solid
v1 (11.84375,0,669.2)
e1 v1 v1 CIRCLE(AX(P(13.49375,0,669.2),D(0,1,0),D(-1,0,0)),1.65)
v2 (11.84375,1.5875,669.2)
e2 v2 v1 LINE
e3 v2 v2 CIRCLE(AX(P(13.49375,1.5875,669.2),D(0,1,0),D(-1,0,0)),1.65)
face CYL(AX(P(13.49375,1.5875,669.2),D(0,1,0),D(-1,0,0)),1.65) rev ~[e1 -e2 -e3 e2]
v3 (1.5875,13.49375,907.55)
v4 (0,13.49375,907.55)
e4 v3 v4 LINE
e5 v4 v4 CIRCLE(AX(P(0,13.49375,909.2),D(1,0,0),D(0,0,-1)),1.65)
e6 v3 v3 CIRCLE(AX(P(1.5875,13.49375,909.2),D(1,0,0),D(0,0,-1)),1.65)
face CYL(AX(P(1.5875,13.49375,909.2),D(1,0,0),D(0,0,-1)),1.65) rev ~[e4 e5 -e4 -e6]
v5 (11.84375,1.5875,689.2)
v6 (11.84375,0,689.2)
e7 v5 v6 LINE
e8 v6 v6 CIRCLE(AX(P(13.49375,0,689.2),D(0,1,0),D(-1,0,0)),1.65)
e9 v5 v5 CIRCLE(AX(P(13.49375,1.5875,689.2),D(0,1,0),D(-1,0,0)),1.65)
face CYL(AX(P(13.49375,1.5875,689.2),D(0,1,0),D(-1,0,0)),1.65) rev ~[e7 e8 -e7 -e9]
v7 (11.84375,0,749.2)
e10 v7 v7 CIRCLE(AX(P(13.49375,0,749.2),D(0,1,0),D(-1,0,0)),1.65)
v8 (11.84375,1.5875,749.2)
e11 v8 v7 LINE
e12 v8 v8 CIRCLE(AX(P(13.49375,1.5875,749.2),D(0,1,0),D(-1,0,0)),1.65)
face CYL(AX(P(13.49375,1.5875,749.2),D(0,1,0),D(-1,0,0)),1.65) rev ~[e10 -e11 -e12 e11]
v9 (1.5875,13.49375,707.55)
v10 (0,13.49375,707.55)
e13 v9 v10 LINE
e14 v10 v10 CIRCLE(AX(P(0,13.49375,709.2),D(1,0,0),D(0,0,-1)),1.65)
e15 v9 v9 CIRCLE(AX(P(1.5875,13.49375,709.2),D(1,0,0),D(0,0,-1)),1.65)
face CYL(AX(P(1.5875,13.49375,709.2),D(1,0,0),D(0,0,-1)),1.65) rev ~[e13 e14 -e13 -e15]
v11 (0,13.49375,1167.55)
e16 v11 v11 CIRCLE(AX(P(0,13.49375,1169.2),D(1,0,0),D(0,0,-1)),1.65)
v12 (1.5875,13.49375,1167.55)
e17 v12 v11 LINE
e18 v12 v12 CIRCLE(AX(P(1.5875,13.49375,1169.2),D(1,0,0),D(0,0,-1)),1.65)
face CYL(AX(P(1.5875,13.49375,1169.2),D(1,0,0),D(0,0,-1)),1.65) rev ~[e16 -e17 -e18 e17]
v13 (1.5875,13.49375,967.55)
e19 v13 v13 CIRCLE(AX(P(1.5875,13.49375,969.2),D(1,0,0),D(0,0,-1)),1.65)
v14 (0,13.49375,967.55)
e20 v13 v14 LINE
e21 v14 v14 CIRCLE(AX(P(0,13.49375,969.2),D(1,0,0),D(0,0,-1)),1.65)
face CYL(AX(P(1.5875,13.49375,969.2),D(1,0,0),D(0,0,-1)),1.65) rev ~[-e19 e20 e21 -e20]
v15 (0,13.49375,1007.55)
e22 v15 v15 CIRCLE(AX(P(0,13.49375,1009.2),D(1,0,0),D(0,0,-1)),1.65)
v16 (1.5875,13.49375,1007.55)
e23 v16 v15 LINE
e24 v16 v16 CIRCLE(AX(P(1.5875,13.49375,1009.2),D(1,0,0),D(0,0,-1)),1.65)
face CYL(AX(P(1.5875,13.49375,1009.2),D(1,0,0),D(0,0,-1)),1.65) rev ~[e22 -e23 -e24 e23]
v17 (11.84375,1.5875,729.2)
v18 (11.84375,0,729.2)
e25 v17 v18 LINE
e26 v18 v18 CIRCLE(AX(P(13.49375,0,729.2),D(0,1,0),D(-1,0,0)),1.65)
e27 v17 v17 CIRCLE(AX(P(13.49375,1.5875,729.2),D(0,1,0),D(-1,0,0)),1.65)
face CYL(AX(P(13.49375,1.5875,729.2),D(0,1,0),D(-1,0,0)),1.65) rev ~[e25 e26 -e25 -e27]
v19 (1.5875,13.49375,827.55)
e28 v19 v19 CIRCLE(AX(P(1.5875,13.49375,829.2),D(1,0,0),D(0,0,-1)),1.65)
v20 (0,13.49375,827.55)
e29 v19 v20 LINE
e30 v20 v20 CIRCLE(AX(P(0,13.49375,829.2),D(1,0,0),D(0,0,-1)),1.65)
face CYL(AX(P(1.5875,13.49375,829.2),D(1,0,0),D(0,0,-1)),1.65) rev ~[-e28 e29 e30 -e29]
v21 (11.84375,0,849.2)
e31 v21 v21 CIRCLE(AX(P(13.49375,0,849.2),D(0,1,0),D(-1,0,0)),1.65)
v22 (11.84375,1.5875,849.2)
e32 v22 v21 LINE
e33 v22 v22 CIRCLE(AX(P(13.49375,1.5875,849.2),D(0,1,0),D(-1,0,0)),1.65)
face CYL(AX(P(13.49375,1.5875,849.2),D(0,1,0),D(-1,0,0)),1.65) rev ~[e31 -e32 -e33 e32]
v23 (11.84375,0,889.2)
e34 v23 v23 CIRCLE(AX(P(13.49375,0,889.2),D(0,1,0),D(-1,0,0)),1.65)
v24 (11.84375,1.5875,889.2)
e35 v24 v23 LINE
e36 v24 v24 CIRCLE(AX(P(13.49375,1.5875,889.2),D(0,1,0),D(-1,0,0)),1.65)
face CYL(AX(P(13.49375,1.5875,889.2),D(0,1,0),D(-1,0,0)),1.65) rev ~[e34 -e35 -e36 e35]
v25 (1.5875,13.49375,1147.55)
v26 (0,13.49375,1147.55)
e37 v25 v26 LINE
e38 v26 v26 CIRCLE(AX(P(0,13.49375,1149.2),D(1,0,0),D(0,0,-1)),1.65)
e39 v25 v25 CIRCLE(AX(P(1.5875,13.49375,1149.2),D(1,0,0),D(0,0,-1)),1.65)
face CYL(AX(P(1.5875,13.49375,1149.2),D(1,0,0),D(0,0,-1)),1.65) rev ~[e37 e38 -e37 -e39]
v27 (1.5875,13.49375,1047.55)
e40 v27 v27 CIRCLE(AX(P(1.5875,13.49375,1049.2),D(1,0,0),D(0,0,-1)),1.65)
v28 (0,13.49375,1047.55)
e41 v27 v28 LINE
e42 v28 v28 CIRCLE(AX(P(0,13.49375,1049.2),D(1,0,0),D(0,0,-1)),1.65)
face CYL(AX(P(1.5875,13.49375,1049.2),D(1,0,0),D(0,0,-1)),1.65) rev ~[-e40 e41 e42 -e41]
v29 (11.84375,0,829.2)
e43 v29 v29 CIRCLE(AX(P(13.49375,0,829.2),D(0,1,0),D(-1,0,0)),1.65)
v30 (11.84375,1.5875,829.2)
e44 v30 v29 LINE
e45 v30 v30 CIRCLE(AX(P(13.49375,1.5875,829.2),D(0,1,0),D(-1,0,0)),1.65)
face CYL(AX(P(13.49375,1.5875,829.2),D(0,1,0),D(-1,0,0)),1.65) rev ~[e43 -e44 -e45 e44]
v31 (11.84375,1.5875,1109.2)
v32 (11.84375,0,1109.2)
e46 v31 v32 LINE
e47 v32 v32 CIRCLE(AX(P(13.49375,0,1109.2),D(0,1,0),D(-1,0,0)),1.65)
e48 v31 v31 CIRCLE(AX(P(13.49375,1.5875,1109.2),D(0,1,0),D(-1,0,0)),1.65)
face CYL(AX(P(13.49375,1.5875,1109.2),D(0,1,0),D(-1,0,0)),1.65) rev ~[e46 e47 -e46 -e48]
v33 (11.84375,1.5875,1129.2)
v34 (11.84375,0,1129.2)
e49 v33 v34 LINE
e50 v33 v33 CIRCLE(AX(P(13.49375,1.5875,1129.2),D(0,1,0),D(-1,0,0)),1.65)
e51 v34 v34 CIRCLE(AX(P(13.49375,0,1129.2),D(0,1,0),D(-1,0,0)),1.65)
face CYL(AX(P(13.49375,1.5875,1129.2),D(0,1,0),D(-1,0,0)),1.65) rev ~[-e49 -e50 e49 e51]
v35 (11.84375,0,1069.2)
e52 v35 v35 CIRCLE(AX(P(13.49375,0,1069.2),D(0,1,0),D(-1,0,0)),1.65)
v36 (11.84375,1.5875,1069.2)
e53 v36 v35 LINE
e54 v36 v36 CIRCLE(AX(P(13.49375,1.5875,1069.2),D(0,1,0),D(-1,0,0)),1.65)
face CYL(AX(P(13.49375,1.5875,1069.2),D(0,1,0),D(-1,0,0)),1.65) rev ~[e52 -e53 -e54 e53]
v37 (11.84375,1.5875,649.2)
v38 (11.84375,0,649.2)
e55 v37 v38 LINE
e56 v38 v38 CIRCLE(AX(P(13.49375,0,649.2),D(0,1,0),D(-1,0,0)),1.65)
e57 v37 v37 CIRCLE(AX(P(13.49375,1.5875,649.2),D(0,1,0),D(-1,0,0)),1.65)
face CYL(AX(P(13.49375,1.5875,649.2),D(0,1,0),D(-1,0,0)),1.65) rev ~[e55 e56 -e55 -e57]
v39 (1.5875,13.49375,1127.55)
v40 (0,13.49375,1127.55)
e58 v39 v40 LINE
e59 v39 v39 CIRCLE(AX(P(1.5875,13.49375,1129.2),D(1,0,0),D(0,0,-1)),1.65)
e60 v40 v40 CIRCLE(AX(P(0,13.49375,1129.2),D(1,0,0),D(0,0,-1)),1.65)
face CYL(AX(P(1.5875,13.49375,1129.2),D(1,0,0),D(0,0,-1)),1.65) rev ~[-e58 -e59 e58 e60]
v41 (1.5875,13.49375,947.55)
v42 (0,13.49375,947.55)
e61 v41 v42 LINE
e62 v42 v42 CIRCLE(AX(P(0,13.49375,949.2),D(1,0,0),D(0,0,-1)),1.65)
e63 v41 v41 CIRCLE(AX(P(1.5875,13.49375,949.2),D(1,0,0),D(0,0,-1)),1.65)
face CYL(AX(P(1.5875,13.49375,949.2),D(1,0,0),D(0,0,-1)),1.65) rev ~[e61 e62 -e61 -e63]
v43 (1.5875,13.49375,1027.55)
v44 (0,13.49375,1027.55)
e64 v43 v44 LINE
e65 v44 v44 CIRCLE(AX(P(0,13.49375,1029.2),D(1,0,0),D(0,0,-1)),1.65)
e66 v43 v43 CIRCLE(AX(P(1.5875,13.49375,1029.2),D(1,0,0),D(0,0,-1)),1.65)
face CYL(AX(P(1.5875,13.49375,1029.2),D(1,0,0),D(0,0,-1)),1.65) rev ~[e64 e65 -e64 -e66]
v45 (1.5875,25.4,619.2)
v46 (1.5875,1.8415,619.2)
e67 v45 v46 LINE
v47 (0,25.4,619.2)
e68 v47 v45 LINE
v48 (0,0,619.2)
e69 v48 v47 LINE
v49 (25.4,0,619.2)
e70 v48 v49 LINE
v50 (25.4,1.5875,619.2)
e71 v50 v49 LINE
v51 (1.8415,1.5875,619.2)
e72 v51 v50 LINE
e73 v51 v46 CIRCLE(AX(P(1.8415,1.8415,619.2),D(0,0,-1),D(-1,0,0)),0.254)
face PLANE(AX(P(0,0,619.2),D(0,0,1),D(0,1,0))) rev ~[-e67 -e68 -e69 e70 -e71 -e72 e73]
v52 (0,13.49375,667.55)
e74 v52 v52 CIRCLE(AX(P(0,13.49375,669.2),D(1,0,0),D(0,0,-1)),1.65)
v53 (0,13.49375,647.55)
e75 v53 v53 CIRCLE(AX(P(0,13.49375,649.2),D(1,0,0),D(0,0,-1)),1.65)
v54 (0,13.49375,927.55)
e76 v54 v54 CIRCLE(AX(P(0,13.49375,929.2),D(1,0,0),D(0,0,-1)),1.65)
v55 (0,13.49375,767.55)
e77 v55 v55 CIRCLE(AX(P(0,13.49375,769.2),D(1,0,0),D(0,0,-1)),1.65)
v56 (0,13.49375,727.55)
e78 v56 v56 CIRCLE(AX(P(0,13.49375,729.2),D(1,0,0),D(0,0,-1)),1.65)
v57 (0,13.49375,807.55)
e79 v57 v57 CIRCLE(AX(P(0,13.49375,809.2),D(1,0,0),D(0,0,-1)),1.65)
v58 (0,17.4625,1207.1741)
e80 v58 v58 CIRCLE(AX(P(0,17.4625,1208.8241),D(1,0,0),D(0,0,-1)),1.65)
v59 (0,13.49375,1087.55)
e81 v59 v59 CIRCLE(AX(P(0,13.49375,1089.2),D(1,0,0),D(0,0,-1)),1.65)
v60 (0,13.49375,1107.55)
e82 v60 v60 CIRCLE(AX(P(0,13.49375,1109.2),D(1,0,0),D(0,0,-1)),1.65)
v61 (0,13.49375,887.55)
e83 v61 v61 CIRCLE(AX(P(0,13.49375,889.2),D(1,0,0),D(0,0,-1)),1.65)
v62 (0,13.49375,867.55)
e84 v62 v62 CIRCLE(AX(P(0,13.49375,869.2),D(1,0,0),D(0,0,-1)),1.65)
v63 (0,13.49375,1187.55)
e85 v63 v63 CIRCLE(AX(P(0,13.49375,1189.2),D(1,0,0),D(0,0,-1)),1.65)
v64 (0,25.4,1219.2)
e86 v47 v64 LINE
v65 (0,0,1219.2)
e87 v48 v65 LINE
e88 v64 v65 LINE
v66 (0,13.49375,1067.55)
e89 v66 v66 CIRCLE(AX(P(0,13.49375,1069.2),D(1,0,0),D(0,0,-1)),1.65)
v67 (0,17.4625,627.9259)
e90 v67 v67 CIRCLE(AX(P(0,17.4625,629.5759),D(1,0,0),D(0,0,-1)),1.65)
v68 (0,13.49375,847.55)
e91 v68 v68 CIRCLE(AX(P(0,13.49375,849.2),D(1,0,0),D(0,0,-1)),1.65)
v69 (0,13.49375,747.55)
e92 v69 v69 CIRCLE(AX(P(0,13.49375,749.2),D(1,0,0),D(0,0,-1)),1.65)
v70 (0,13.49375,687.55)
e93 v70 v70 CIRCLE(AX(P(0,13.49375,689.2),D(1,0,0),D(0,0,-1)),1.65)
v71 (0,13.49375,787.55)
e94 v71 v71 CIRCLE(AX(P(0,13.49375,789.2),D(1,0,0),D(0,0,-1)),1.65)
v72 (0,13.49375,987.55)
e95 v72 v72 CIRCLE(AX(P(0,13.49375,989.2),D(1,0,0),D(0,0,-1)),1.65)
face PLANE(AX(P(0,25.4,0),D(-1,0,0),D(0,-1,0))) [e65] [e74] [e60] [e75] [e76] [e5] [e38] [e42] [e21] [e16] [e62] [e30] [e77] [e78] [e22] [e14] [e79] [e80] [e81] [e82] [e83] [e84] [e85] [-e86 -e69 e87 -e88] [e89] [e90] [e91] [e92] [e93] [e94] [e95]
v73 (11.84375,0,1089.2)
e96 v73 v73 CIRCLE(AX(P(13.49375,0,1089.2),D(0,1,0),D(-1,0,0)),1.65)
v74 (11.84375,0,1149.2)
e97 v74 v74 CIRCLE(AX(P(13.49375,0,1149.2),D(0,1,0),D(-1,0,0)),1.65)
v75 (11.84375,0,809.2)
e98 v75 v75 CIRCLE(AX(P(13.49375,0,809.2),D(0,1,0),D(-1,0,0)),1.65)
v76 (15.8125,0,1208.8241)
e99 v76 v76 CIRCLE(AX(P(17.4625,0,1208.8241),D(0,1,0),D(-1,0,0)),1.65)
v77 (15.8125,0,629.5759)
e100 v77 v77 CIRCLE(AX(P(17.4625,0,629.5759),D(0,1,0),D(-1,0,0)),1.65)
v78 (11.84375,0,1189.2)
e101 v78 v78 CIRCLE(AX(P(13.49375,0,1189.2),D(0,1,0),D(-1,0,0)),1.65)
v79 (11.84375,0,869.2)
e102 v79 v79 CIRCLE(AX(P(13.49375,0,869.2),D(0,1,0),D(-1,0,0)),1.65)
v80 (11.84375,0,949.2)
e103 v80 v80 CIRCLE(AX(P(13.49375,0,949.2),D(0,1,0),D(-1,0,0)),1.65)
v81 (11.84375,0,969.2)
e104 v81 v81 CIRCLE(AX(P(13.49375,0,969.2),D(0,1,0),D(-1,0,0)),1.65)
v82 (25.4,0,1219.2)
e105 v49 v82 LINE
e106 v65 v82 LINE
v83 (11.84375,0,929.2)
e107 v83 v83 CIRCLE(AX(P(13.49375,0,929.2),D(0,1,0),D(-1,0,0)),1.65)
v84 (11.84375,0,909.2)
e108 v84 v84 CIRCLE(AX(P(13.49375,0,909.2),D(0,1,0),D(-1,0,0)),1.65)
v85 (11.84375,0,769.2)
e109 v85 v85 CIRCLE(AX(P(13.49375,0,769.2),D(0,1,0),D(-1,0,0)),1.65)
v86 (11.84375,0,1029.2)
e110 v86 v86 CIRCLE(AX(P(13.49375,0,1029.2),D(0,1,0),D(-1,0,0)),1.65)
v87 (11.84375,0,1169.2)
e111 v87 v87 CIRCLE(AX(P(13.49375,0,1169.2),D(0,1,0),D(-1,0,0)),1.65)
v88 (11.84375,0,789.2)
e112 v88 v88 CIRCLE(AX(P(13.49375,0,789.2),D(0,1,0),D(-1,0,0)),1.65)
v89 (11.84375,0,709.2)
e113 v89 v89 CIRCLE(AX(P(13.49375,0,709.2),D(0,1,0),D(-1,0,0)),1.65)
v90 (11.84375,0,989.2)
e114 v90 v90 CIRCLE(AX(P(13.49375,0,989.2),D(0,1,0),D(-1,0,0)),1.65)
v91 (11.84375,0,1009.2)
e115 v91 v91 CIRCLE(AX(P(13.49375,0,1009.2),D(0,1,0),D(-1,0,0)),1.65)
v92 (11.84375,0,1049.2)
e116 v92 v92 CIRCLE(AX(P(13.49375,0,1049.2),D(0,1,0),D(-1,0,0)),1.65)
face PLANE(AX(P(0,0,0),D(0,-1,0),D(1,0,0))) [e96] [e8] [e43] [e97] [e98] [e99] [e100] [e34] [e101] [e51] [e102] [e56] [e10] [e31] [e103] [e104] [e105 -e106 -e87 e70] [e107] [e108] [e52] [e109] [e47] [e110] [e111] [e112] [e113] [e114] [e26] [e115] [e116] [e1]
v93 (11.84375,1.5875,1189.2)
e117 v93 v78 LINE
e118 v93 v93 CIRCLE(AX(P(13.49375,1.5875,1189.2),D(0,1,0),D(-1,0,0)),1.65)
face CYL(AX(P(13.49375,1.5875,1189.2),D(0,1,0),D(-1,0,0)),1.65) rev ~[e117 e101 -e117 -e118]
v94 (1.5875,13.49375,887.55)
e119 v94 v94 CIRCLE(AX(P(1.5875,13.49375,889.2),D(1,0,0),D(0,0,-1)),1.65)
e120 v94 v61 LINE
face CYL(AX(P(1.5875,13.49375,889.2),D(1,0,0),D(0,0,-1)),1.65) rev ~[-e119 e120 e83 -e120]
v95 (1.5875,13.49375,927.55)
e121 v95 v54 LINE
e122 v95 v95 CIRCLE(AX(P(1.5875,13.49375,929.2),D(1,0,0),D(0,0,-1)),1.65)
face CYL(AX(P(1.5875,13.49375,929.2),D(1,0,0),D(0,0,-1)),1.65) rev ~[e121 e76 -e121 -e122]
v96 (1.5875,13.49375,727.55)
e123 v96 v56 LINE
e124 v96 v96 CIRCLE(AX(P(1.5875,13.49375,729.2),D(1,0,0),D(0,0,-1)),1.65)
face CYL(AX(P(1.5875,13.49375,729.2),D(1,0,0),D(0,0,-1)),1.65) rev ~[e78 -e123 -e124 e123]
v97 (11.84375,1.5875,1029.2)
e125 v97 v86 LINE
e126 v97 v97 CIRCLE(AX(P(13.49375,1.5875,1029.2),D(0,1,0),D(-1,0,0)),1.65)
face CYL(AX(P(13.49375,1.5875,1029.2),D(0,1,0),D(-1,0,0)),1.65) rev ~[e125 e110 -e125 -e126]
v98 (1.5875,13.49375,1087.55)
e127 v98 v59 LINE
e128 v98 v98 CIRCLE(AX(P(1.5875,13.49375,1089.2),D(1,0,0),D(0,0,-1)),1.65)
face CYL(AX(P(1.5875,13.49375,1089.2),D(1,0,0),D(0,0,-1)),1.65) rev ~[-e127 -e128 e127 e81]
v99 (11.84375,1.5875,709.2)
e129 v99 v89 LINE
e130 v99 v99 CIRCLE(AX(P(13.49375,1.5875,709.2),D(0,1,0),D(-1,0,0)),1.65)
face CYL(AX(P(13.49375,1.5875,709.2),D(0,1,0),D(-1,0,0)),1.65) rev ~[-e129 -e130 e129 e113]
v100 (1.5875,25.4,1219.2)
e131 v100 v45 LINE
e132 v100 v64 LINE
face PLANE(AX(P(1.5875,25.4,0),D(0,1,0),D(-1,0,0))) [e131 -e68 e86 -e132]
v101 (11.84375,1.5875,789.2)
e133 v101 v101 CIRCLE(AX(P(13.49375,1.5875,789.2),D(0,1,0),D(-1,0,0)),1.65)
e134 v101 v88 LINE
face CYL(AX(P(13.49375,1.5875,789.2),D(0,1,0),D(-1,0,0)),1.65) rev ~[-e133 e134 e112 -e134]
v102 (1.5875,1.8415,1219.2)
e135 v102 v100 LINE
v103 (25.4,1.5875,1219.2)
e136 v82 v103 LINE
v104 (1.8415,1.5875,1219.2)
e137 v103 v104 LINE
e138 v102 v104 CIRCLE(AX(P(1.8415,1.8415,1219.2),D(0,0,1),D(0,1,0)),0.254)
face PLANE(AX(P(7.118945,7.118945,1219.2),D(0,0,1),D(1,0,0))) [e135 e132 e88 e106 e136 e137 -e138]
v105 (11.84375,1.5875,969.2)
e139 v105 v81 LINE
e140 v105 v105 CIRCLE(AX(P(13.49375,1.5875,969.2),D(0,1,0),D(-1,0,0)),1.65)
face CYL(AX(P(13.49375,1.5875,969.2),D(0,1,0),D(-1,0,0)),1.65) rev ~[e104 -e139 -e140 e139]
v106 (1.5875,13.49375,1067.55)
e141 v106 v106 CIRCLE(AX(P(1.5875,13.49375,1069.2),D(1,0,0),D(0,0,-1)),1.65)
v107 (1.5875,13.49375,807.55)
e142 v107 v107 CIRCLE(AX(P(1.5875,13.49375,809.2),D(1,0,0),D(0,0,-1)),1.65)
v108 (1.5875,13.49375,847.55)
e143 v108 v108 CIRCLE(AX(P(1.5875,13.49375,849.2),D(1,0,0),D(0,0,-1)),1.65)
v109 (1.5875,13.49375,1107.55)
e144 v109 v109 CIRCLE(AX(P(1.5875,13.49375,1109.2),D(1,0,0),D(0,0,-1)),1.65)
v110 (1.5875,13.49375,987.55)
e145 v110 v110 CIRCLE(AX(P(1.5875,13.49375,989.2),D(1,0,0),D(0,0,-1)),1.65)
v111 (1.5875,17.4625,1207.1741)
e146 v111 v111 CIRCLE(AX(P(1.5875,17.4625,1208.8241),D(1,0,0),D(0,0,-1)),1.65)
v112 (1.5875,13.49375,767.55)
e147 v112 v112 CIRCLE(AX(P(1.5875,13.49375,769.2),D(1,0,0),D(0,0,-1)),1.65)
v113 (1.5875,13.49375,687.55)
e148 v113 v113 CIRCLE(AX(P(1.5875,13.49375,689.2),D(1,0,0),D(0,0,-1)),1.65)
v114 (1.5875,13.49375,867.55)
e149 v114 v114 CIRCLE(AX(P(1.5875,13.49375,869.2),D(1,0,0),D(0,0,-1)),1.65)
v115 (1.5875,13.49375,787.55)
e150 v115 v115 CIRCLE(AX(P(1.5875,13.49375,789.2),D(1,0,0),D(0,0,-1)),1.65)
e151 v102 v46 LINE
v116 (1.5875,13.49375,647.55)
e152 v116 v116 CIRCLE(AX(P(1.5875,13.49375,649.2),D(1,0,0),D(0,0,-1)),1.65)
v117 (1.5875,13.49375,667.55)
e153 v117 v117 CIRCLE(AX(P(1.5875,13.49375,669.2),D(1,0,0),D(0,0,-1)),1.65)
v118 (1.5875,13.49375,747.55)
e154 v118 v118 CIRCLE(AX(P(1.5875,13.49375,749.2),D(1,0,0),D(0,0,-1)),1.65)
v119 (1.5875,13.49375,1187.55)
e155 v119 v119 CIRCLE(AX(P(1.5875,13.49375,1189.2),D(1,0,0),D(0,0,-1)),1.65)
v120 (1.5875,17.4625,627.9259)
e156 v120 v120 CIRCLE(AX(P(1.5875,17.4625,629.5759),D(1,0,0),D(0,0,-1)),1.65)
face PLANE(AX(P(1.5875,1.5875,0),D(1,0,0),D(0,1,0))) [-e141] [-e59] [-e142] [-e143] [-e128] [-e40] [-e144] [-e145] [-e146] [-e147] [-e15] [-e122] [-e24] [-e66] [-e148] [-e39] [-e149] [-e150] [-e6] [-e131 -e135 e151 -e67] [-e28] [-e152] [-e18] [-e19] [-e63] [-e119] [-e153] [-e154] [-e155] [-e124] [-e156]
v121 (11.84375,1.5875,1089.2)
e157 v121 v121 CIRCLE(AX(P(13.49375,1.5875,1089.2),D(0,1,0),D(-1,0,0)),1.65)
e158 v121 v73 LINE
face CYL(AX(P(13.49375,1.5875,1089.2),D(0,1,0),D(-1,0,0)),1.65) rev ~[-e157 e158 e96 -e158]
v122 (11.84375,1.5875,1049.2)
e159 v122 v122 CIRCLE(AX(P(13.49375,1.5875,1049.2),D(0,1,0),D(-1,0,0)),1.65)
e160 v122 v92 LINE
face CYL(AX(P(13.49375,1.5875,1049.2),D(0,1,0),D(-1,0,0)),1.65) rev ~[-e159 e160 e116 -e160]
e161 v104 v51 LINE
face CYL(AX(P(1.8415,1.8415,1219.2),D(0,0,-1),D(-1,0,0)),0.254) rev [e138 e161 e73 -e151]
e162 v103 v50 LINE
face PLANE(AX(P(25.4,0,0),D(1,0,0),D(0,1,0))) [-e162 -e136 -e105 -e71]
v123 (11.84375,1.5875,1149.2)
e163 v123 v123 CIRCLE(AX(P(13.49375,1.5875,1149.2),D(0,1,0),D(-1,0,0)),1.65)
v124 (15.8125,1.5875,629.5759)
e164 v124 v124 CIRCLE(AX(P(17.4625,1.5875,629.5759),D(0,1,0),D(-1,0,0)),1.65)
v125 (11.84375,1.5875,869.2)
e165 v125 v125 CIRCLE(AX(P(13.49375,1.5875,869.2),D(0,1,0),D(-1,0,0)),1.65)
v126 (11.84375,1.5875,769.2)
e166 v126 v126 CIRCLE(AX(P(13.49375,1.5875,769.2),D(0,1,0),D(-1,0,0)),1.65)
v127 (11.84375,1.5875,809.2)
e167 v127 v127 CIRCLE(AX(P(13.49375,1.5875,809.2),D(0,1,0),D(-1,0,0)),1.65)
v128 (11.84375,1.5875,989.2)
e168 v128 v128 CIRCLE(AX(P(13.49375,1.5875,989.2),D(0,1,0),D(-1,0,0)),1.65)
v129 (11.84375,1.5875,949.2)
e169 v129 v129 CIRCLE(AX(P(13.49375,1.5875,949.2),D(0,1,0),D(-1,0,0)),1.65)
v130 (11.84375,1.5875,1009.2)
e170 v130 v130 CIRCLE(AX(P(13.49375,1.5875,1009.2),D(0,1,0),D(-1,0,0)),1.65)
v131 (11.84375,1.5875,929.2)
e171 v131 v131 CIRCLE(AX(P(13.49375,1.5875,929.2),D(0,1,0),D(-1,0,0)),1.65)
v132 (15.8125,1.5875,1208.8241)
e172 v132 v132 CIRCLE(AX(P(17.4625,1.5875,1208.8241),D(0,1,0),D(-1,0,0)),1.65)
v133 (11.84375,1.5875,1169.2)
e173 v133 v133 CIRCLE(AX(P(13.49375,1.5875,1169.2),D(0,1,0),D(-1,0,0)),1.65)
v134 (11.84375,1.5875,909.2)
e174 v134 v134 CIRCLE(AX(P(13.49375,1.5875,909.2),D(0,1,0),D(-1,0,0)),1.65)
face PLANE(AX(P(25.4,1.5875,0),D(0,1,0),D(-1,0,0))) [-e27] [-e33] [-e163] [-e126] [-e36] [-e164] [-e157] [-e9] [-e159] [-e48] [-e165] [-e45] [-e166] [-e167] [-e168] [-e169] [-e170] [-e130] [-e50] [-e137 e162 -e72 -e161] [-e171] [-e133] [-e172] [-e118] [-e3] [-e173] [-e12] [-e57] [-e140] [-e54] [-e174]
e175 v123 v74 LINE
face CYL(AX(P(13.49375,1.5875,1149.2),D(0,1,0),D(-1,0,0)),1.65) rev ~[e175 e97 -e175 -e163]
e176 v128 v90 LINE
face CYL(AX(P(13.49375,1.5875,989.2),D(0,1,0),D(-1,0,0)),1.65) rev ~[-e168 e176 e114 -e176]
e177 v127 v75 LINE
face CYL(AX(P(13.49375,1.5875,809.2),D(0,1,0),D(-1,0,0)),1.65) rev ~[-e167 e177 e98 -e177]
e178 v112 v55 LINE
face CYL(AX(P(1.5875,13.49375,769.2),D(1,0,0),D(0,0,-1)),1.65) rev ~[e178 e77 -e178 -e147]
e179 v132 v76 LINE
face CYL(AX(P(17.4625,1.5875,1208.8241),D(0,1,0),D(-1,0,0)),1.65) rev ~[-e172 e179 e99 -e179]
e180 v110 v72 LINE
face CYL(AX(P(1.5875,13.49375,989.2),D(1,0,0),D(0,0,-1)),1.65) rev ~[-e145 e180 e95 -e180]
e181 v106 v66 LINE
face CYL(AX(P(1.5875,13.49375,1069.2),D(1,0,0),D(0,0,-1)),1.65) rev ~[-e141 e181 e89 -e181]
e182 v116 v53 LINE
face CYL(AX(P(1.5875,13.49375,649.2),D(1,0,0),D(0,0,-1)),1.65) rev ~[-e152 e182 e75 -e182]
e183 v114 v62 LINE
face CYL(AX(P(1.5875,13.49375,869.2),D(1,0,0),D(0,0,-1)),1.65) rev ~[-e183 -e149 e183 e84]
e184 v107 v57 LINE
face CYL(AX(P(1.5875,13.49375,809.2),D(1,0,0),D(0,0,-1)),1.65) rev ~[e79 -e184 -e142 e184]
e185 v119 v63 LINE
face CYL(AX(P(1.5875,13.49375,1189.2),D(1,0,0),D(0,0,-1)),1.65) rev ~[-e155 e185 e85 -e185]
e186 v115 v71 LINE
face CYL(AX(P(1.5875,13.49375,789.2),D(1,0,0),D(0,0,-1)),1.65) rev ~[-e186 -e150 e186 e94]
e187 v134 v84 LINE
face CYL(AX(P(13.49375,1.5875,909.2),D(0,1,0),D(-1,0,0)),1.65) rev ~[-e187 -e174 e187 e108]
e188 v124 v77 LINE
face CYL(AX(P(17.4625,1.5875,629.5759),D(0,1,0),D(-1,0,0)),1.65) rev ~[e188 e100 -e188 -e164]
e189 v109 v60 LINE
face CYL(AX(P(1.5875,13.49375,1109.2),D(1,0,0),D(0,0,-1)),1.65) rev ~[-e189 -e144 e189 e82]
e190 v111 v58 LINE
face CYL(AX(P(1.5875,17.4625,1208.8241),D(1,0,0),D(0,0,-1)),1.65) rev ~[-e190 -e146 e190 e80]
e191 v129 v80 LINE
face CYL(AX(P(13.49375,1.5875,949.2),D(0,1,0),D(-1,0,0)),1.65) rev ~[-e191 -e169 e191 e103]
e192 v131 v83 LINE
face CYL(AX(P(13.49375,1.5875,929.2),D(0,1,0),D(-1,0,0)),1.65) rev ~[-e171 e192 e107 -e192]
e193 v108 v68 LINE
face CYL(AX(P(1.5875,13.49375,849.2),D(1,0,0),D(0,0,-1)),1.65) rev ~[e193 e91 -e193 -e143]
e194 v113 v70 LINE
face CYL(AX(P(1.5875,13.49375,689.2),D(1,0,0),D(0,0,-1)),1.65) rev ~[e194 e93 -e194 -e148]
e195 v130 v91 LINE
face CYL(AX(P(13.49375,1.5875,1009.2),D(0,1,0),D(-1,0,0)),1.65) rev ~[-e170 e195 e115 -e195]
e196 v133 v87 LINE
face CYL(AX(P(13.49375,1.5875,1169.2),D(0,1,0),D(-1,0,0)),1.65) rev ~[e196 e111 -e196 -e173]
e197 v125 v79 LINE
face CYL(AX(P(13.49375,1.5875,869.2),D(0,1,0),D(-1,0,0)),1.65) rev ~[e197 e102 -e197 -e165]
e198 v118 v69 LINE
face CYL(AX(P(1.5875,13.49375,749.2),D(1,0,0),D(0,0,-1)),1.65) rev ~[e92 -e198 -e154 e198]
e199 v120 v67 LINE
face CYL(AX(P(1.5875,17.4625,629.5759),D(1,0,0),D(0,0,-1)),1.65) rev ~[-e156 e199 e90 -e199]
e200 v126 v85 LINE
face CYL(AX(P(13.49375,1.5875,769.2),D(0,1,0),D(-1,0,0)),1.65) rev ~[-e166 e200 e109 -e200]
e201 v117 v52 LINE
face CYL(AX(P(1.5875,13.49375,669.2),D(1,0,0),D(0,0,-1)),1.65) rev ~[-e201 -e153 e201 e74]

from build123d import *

# Parameters (mm, degrees)
BOSS_EXTRUDE1_DEPTH = 1219.2
FILLET1_R           = 0.254
SKETCH4_W           = 1838.4
SKETCH4_H           = 74.945320812
CUT_EXTRUDE1_DEPTH  = 60
SKETCH5_R           = 1.65
CUT_EXTRUDE2_DEPTH  = 60
SKETCH6_R           = 1.65
CUT_EXTRUDE3_DEPTH  = 60


with BuildPart() as part:
    # Sketch3 → Boss-Extrude1 (new, symmetric)
    with BuildSketch(Plane.XY):
        Polygon((1.5875, 25.4), (0, 25.4), (0, 0), (25.4, 0), (25.4, 1.5875), (1.5875, 1.5875), align=None)
    extrude(amount=BOSS_EXTRUDE1_DEPTH, both=True)

    # Fillet1
    fillet1_edges = [part.edges().sort_by_distance(p)[0] for p in [
        (1.5875, 1.5875, 0),
    ]]
    fillet(fillet1_edges, radius=FILLET1_R)

    # Sketch4 → Cut-Extrude1 (cut)
    with BuildSketch(Plane.ZY):
        with Locations((-300, 37.472660406)):
            Rectangle(SKETCH4_W, SKETCH4_H)
    extrude(amount=-CUT_EXTRUDE1_DEPTH, mode=Mode.SUBTRACT)

    # Sketch5 → Cut-Extrude2 (cut)
    with BuildSketch(Plane(origin=(1.5875, 0, 0), x_dir=(0, 0, -1), z_dir=(1, 0, 0))):
        with Locations((-629.5759, 17.4625)):
            Circle(SKETCH5_R)
        with Locations((-1208.8241, 17.4625)):
            Circle(SKETCH5_R)
        with Locations((-1189.2, 13.49375)):
            Circle(SKETCH5_R)
        with Locations((-1169.2, 13.49375)):
            Circle(SKETCH5_R)
        with Locations((-1149.2, 13.49375)):
            Circle(SKETCH5_R)
        with Locations((-1129.2, 13.49375)):
            Circle(SKETCH5_R)
        with Locations((-1109.2, 13.49375)):
            Circle(SKETCH5_R)
        with Locations((-1089.2, 13.49375)):
            Circle(SKETCH5_R)
        with Locations((-1069.2, 13.49375)):
            Circle(SKETCH5_R)
        with Locations((-1049.2, 13.49375)):
            Circle(SKETCH5_R)
        with Locations((-1029.2, 13.49375)):
            Circle(SKETCH5_R)
        with Locations((-1009.2, 13.49375)):
            Circle(SKETCH5_R)
        with Locations((-989.2, 13.49375)):
            Circle(SKETCH5_R)
        with Locations((-969.2, 13.49375)):
            Circle(SKETCH5_R)
        with Locations((-949.2, 13.49375)):
            Circle(SKETCH5_R)
        with Locations((-929.2, 13.49375)):
            Circle(SKETCH5_R)
        with Locations((-909.2, 13.49375)):
            Circle(SKETCH5_R)
        with Locations((-889.2, 13.49375)):
            Circle(SKETCH5_R)
        with Locations((-869.2, 13.49375)):
            Circle(SKETCH5_R)
        with Locations((-849.2, 13.49375)):
            Circle(SKETCH5_R)
        with Locations((-829.2, 13.49375)):
            Circle(SKETCH5_R)
        with Locations((-809.2, 13.49375)):
            Circle(SKETCH5_R)
        with Locations((-789.2, 13.49375)):
            Circle(SKETCH5_R)
        with Locations((-769.2, 13.49375)):
            Circle(SKETCH5_R)
        with Locations((-749.2, 13.49375)):
            Circle(SKETCH5_R)
        with Locations((-729.2, 13.49375)):
            Circle(SKETCH5_R)
        with Locations((-709.2, 13.49375)):
            Circle(SKETCH5_R)
        with Locations((-689.2, 13.49375)):
            Circle(SKETCH5_R)
        with Locations((-669.2, 13.49375)):
            Circle(SKETCH5_R)
        with Locations((-649.2, 13.49375)):
            Circle(SKETCH5_R)
    extrude(amount=-CUT_EXTRUDE2_DEPTH, mode=Mode.SUBTRACT)

    # Sketch6 → Cut-Extrude3 (cut)
    with BuildSketch(Plane(origin=(0, 1.5875, 0), x_dir=(1, 0, 0), z_dir=(0, 1, 0))):
        with Locations(Location((17.4625, -629.5759, 0), (0, 0, 180))):
            Circle(SKETCH6_R)
        with Locations(Location((17.4625, -1208.8241, 0), (0, 0, 180))):
            Circle(SKETCH6_R)
        with Locations(Location((13.49375, -649.2, 0), (0, 0, 180))):
            Circle(SKETCH6_R)
        with Locations(Location((13.49375, -669.2, 0), (0, 0, 180))):
            Circle(SKETCH6_R)
        with Locations(Location((13.49375, -689.2, 0), (0, 0, 180))):
            Circle(SKETCH6_R)
        with Locations(Location((13.49375, -709.2, 0), (0, 0, 180))):
            Circle(SKETCH6_R)
        with Locations(Location((13.49375, -729.2, 0), (0, 0, 180))):
            Circle(SKETCH6_R)
        with Locations(Location((13.49375, -749.2, 0), (0, 0, 180))):
            Circle(SKETCH6_R)
        with Locations(Location((13.49375, -769.2, 0), (0, 0, 180))):
            Circle(SKETCH6_R)
        with Locations(Location((13.49375, -789.2, 0), (0, 0, 180))):
            Circle(SKETCH6_R)
        with Locations(Location((13.49375, -809.2, 0), (0, 0, 180))):
            Circle(SKETCH6_R)
        with Locations(Location((13.49375, -829.2, 0), (0, 0, 180))):
            Circle(SKETCH6_R)
        with Locations(Location((13.49375, -849.2, 0), (0, 0, 180))):
            Circle(SKETCH6_R)
        with Locations(Location((13.49375, -869.2, 0), (0, 0, 180))):
            Circle(SKETCH6_R)
        with Locations(Location((13.49375, -889.2, 0), (0, 0, 180))):
            Circle(SKETCH6_R)
        with Locations(Location((13.49375, -909.2, 0), (0, 0, 180))):
            Circle(SKETCH6_R)
        with Locations(Location((13.49375, -929.2, 0), (0, 0, 180))):
            Circle(SKETCH6_R)
        with Locations(Location((13.49375, -949.2, 0), (0, 0, 180))):
            Circle(SKETCH6_R)
        with Locations(Location((13.49375, -969.2, 0), (0, 0, 180))):
            Circle(SKETCH6_R)
        with Locations(Location((13.49375, -989.2, 0), (0, 0, 180))):
            Circle(SKETCH6_R)
        with Locations(Location((13.49375, -1009.2, 0), (0, 0, 180))):
            Circle(SKETCH6_R)
        with Locations(Location((13.49375, -1029.2, 0), (0, 0, 180))):
            Circle(SKETCH6_R)
        with Locations(Location((13.49375, -1049.2, 0), (0, 0, 180))):
            Circle(SKETCH6_R)
        with Locations(Location((13.49375, -1069.2, 0), (0, 0, 180))):
            Circle(SKETCH6_R)
        with Locations(Location((13.49375, -1089.2, 0), (0, 0, 180))):
            Circle(SKETCH6_R)
        with Locations(Location((13.49375, -1109.2, 0), (0, 0, 180))):
            Circle(SKETCH6_R)
        with Locations(Location((13.49375, -1129.2, 0), (0, 0, 180))):
            Circle(SKETCH6_R)
        with Locations(Location((13.49375, -1149.2, 0), (0, 0, 180))):
            Circle(SKETCH6_R)
        with Locations(Location((13.49375, -1169.2, 0), (0, 0, 180))):
            Circle(SKETCH6_R)
        with Locations(Location((13.49375, -1189.2, 0), (0, 0, 180))):
            Circle(SKETCH6_R)
    extrude(amount=-CUT_EXTRUDE3_DEPTH, mode=Mode.SUBTRACT)


solid = part.part
